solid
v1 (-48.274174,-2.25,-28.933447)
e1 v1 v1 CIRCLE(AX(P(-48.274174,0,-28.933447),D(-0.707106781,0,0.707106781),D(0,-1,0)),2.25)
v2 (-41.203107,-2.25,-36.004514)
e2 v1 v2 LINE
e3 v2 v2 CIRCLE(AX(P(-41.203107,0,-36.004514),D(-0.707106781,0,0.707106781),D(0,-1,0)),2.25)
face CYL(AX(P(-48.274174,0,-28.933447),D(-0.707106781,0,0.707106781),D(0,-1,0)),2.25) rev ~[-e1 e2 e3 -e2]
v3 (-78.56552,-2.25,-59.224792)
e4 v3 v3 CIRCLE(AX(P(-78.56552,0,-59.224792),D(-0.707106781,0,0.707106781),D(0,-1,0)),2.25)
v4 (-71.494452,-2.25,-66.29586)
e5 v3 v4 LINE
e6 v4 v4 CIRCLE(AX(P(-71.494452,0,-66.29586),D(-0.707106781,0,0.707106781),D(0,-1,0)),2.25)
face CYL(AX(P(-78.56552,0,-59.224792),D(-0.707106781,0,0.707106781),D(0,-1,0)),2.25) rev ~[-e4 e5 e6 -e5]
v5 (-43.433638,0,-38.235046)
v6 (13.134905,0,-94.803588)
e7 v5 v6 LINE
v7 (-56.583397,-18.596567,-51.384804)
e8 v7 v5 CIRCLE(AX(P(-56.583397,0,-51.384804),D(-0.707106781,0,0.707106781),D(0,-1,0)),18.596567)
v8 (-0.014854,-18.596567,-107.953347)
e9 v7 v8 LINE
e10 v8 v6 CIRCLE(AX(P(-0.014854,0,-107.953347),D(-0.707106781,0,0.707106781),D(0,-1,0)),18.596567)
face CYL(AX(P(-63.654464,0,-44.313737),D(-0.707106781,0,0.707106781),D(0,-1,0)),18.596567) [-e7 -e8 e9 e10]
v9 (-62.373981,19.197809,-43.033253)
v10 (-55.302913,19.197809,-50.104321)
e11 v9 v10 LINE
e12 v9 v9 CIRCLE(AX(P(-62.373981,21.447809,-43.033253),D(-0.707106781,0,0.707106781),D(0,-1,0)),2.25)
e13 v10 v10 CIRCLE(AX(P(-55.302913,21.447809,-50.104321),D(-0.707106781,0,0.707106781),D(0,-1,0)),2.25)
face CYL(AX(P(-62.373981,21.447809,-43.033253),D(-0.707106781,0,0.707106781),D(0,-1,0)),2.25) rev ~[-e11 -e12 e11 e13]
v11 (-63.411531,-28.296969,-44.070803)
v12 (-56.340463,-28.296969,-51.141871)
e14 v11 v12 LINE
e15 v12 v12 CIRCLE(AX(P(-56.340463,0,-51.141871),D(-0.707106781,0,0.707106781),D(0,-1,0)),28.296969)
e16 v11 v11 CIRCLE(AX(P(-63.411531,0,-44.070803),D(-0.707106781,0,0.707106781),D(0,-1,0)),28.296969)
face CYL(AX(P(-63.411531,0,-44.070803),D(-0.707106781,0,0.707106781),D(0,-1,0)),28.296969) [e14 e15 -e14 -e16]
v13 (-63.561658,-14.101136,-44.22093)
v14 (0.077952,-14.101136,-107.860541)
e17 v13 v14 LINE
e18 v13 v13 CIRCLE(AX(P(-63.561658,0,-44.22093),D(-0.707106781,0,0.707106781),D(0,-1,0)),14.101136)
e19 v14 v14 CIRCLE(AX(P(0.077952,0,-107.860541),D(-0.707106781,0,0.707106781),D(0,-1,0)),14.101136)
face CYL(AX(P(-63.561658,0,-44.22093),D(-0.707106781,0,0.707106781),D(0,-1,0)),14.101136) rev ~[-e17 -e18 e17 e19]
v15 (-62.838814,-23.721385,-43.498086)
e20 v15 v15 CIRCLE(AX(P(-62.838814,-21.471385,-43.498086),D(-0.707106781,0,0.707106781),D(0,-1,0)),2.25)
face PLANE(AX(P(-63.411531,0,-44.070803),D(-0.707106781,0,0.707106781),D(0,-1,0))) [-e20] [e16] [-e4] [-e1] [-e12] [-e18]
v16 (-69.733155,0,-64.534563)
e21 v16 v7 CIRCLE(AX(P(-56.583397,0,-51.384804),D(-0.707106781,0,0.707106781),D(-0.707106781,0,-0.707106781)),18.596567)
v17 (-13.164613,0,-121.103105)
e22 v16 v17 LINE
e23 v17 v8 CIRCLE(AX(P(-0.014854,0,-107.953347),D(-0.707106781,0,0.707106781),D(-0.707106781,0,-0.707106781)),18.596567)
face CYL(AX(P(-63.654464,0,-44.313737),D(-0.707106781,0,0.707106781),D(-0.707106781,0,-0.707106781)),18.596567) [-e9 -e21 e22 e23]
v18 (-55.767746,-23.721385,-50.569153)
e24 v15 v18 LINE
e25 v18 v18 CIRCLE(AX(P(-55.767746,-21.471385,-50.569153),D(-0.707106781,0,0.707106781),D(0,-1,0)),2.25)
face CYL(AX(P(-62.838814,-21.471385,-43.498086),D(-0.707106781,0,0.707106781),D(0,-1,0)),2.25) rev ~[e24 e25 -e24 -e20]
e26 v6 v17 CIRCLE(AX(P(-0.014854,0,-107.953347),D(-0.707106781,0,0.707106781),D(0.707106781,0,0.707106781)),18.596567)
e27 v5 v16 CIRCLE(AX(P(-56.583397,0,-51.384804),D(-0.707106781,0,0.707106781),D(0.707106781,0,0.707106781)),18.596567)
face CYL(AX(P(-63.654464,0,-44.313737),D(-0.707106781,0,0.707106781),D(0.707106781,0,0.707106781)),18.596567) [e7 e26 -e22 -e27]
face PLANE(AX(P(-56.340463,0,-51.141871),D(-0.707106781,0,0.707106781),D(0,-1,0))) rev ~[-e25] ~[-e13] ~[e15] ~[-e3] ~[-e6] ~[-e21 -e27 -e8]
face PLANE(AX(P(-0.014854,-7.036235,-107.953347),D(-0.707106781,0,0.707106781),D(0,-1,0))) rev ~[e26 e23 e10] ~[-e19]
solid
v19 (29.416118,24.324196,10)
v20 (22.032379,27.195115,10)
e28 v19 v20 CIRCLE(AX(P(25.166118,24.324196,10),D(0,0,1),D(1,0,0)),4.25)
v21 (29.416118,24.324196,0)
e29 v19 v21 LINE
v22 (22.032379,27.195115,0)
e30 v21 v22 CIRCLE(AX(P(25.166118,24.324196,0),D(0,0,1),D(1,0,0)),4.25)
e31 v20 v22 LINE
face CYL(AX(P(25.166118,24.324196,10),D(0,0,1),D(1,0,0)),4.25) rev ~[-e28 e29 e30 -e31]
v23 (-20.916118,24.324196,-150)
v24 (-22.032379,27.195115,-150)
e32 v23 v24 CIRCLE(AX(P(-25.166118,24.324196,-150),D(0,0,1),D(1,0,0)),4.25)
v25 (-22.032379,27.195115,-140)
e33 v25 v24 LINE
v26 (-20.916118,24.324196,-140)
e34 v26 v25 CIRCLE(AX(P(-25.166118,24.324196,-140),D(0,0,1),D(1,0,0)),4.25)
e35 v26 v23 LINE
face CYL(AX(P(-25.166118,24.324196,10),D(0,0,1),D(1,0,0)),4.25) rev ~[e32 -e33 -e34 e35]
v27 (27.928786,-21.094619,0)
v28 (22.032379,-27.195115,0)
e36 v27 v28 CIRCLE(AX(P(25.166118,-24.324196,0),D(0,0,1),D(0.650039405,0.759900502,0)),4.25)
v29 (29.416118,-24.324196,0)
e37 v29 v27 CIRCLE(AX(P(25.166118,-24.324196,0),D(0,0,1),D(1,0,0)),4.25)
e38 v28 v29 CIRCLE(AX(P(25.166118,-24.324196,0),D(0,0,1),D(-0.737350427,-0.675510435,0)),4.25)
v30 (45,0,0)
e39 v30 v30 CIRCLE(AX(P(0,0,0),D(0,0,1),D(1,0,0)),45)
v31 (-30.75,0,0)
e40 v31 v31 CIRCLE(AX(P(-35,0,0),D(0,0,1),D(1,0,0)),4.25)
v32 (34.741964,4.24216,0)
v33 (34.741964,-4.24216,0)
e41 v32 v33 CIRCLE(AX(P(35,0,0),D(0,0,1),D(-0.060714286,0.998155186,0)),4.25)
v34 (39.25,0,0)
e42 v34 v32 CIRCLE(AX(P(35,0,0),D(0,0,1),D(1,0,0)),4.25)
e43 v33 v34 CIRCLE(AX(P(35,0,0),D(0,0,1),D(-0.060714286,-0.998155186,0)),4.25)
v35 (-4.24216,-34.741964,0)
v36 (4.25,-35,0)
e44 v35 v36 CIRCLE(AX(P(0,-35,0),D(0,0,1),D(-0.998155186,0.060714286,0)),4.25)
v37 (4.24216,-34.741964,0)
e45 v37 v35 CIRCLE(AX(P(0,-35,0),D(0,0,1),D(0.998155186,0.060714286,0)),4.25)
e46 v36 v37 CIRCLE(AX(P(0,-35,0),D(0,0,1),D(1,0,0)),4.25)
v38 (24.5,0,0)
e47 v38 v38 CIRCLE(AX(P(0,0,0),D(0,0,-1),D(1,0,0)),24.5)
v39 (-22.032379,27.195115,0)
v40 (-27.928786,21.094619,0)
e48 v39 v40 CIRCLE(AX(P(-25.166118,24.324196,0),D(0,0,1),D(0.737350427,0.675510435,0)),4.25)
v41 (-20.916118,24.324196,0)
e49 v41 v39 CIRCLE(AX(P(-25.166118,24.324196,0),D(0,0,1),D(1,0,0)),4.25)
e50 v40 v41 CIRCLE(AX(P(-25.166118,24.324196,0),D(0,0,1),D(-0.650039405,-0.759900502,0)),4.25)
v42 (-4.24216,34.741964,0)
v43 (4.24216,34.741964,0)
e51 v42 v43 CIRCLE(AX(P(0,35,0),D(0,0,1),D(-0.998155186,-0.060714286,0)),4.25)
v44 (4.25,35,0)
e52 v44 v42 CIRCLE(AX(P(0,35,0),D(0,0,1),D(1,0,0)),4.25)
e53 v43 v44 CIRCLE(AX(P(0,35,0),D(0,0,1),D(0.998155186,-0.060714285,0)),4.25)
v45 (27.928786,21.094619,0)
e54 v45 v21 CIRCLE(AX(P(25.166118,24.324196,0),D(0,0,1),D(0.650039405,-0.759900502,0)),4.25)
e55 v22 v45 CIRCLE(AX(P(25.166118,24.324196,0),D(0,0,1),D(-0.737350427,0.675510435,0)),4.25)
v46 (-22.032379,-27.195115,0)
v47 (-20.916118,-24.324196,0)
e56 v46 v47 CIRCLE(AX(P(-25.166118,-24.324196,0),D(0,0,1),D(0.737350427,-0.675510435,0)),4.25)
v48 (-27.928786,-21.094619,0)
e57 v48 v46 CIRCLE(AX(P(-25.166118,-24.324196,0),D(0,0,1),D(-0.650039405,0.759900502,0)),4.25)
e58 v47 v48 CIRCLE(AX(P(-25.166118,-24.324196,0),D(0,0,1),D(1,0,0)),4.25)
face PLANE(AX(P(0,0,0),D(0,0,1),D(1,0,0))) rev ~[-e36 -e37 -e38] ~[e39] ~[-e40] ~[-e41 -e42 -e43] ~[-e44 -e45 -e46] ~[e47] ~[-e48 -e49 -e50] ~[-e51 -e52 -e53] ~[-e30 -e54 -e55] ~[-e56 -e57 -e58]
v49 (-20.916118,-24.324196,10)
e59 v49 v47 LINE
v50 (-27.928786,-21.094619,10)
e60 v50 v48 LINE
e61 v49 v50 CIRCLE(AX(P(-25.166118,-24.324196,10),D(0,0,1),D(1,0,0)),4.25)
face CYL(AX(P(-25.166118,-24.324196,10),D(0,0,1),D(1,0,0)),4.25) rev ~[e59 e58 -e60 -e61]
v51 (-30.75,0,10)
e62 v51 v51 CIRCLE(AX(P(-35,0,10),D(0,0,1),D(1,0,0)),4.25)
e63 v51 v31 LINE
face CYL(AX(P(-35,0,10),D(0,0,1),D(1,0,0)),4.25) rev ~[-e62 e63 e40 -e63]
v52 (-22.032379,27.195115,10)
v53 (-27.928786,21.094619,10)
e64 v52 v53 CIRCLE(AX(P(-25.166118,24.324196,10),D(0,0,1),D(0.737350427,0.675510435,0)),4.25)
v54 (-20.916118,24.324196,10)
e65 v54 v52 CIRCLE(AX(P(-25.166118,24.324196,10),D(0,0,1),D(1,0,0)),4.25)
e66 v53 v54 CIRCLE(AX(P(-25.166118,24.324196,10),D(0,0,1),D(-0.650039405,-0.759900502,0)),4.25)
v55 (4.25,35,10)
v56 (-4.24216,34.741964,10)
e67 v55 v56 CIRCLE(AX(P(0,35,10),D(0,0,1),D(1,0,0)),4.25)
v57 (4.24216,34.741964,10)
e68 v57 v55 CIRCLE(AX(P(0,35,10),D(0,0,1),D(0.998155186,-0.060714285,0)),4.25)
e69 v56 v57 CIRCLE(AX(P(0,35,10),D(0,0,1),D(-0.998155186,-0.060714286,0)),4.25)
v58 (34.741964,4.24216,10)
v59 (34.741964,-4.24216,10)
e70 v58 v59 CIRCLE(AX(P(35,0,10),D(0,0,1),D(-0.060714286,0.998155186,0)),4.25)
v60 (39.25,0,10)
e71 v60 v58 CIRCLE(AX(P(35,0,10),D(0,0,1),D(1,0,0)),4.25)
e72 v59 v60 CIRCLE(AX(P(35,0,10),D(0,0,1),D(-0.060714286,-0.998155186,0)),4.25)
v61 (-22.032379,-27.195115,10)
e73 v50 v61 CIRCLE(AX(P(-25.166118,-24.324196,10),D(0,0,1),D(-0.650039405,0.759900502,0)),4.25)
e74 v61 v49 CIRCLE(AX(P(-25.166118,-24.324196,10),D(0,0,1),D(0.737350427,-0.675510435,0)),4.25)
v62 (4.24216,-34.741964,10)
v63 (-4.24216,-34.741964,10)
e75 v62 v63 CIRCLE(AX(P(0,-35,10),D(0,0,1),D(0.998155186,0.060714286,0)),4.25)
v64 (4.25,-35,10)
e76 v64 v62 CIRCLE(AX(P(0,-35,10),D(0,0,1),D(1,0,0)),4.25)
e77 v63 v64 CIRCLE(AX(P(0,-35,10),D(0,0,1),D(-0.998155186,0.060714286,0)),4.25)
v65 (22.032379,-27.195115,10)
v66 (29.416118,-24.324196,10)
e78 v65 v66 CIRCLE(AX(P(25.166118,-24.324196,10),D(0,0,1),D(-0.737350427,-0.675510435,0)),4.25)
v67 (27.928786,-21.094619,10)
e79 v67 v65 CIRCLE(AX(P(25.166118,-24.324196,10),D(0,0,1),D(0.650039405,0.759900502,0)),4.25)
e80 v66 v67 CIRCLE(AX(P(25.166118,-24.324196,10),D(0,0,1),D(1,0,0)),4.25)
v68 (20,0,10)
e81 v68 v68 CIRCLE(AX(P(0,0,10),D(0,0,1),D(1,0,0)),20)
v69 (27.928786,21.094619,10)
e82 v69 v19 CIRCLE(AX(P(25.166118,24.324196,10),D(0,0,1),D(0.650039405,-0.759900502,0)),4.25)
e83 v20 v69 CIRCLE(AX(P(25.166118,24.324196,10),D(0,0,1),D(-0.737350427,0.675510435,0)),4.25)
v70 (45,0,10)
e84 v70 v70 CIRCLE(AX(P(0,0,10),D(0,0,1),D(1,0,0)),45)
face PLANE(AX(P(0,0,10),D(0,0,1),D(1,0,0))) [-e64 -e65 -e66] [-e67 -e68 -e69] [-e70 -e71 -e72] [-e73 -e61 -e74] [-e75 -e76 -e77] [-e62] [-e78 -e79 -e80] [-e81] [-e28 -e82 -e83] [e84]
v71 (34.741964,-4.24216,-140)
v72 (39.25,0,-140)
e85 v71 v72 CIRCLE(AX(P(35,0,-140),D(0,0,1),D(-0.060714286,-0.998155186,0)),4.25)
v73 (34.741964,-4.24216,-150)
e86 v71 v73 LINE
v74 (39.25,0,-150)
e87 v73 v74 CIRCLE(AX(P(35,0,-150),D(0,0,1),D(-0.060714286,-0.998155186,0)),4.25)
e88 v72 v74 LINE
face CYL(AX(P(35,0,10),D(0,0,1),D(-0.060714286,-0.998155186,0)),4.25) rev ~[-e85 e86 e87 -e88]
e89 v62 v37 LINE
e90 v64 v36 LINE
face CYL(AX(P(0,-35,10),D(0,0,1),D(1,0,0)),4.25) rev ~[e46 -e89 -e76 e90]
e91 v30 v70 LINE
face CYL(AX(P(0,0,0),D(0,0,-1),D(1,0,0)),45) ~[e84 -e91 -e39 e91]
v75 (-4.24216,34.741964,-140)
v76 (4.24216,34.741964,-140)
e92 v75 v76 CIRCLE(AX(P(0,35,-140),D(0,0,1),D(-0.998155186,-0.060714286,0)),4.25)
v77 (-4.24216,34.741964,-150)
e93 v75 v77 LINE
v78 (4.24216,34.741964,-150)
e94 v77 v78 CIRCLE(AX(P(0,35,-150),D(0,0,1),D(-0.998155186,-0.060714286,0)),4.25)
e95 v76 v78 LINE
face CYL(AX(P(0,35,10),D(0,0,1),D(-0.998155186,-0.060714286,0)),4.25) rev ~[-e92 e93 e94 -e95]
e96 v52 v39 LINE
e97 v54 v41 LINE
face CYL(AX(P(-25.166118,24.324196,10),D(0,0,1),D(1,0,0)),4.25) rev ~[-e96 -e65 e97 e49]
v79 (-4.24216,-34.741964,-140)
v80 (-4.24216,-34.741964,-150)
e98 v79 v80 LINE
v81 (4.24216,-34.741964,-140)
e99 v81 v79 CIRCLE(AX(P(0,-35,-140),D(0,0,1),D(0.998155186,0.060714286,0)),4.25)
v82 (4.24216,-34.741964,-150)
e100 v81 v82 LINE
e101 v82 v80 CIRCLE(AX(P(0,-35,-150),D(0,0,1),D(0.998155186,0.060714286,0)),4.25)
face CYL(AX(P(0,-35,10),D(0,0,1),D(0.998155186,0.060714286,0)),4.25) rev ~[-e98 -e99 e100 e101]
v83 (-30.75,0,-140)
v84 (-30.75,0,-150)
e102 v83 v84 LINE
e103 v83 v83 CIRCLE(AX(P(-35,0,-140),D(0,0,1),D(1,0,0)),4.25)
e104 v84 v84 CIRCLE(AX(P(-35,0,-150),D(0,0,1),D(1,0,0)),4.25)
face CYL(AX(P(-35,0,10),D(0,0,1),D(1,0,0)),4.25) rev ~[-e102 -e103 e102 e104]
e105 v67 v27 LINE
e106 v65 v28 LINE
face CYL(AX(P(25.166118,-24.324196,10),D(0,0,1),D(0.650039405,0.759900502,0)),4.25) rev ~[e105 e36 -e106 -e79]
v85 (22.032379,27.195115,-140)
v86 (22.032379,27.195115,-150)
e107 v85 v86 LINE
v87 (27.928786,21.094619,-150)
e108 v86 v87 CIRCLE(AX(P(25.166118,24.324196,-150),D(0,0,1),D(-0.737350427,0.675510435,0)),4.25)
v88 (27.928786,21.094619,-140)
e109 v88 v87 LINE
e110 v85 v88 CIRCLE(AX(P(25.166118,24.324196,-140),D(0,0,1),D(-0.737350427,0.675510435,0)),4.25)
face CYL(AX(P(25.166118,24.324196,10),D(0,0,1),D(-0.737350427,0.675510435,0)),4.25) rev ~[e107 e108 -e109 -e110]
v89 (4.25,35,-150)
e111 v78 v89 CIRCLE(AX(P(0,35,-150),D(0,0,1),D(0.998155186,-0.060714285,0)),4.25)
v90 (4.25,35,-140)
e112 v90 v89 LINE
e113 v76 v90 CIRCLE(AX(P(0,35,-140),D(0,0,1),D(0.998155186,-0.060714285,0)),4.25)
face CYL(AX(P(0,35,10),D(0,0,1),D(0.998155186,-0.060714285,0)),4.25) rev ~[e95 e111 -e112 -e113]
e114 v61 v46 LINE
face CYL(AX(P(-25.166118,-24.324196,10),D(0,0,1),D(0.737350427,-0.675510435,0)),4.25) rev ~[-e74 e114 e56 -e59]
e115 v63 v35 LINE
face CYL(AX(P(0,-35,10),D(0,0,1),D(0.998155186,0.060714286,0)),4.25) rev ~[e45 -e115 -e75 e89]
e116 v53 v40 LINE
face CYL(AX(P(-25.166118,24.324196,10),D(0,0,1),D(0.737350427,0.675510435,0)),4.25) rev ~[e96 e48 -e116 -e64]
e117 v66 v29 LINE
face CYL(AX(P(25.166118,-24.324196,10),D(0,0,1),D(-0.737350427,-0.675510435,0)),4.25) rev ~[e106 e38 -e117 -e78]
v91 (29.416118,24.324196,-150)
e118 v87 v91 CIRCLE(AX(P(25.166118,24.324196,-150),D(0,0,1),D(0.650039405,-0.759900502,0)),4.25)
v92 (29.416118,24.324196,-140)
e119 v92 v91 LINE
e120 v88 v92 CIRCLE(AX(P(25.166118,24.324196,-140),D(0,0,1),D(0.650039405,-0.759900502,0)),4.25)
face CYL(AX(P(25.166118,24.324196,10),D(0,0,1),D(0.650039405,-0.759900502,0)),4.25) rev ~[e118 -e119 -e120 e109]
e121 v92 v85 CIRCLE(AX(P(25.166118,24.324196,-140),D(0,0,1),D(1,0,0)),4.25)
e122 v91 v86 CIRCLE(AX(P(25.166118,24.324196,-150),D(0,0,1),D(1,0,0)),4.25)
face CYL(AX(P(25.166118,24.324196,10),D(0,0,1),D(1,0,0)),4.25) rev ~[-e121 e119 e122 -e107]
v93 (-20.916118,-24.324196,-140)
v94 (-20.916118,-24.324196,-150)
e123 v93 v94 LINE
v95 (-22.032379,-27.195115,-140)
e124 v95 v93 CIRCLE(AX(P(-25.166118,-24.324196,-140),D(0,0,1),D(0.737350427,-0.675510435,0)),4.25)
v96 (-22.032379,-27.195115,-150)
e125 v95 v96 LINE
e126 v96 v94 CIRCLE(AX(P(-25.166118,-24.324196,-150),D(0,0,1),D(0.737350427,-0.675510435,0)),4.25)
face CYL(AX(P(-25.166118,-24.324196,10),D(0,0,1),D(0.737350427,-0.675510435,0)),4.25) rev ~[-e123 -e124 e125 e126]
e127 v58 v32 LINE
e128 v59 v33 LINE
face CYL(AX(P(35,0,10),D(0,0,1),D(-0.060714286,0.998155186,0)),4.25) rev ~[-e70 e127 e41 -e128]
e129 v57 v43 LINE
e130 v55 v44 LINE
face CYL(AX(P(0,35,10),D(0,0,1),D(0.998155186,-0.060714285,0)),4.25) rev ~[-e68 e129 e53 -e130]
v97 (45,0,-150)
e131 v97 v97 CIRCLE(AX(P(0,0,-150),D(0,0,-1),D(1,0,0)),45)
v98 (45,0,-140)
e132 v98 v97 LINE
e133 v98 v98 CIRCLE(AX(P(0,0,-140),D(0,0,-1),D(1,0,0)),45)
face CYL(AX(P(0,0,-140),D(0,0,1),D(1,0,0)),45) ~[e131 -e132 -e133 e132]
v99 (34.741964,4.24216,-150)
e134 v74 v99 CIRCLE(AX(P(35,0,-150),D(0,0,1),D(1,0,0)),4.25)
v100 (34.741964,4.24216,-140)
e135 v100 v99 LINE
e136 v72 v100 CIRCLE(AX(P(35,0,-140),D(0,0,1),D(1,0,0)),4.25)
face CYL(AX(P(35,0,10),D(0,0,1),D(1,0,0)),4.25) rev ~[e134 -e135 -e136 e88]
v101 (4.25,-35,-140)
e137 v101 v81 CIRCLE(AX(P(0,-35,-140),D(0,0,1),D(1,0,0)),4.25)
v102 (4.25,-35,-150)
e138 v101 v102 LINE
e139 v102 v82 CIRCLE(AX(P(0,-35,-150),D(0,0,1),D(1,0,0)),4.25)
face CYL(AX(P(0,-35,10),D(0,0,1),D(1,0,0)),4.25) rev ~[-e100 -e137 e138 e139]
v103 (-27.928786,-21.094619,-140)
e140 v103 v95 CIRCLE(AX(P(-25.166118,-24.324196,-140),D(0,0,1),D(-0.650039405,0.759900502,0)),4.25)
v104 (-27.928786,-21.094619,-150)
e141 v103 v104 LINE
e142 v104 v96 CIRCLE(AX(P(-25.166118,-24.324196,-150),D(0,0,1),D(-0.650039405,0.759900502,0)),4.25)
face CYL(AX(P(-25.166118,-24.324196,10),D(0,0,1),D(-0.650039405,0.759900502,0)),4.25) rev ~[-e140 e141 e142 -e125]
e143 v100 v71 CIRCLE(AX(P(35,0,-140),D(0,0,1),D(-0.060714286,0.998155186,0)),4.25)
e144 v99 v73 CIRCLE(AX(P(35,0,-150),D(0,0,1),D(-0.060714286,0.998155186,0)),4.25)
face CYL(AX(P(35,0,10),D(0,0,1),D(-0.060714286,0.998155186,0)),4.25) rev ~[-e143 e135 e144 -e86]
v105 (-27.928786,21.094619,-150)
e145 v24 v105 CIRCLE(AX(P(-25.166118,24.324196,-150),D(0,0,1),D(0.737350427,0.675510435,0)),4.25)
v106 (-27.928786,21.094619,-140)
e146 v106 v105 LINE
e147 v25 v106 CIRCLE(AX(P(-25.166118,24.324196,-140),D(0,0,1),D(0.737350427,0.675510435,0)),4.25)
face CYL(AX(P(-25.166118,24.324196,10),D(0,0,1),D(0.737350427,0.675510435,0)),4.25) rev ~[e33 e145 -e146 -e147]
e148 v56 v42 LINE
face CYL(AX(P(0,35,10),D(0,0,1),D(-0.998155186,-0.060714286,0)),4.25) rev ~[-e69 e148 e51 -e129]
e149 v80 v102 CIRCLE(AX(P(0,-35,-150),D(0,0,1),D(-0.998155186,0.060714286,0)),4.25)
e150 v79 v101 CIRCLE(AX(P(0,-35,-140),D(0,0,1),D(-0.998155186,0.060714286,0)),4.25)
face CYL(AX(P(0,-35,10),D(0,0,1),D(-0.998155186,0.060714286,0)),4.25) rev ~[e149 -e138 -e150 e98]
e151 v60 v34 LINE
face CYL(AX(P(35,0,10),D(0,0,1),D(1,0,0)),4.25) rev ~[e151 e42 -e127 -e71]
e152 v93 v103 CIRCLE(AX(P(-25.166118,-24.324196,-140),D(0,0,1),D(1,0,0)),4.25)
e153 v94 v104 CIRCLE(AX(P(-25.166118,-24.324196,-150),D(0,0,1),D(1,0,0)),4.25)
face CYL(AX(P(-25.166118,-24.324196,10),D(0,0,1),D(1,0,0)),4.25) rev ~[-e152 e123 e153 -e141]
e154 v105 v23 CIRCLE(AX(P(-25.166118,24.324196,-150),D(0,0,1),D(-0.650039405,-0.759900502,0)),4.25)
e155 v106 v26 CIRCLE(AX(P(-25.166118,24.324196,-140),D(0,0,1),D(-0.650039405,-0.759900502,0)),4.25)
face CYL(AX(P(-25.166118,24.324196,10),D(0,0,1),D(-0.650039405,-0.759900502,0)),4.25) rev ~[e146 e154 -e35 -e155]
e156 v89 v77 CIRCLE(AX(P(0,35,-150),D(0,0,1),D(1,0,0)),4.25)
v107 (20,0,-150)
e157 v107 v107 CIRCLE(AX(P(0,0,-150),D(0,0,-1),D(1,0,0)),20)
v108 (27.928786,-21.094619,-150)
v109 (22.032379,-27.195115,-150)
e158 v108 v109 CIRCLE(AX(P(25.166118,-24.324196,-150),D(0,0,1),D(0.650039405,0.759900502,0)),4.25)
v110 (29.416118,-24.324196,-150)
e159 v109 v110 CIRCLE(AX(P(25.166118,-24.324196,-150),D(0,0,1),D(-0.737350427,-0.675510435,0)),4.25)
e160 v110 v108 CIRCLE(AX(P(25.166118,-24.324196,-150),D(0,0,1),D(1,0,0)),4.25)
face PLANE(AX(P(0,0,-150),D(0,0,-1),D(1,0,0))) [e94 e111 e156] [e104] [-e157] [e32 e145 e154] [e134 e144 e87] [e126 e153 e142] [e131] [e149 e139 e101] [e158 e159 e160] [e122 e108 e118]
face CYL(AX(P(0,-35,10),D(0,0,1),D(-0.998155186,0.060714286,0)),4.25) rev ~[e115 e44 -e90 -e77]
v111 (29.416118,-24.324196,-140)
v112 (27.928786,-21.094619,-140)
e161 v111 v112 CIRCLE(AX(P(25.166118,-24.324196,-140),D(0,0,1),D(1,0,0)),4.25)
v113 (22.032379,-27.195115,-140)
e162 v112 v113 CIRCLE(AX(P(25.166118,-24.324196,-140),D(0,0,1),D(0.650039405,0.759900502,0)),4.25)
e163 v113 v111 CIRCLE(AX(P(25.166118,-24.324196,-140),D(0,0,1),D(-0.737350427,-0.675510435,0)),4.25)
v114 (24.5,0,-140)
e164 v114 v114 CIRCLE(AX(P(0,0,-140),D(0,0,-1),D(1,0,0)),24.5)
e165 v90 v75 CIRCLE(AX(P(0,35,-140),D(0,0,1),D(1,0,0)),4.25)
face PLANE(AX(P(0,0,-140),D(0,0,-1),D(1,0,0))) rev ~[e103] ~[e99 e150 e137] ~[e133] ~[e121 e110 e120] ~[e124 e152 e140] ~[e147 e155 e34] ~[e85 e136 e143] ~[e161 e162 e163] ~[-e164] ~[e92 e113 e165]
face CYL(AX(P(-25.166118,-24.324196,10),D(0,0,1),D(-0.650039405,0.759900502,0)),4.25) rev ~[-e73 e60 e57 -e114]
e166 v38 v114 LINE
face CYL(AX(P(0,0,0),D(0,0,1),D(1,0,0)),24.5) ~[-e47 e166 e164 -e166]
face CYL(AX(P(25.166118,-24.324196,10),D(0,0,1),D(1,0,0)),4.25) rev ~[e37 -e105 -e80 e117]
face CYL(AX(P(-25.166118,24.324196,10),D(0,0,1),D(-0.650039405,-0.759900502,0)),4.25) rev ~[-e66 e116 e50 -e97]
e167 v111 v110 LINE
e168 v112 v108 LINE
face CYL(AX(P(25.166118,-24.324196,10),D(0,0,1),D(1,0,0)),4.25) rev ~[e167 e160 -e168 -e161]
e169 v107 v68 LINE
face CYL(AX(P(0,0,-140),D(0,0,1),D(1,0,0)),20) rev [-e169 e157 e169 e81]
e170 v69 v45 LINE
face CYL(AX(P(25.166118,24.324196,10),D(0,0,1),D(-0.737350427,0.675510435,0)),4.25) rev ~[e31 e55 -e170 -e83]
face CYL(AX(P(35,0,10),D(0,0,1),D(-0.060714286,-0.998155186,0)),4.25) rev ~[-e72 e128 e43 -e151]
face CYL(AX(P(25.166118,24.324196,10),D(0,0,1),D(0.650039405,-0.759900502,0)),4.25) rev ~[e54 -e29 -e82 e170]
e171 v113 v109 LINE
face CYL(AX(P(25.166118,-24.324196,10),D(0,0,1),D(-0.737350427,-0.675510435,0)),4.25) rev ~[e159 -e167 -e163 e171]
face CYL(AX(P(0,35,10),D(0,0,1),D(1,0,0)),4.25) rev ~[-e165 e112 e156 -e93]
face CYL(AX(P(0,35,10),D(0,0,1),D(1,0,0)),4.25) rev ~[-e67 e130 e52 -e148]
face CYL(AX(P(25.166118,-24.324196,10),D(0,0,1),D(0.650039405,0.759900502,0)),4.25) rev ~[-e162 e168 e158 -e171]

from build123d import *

# Parameters (mm, degrees)
F0_R      = 45
F1_DEPTH  = 10
F2_R      = 24.5
F2_R_2    = 20
F3_DEPTH  = 140
F4_R      = 20
F5_DEPTH  = 150.001
F6_R      = 45
F6_R_2    = 20
F7_DEPTH  = 10
F8_R      = 45
F8_R_2    = 20
F9_DEPTH  = 10
F10_R     = 20
F11_DEPTH = 160.001
F15_DEPTH = 90
F16_R     = 28.2969693824
F17_DEPTH = 10
F18_R     = 14.1011360699
F19_DEPTH = 90
F20_R     = 2.25
F21_DEPTH = 25


with BuildPart() as f1:
    # F0 (on Top) → F1 (new body)
    with BuildSketch(Plane.XY):
        Circle(F0_R)
    extrude(amount=F1_DEPTH)

    # F2 (on face) → F3 (join)
    with BuildSketch(Plane(origin=(0, 0, 0), x_dir=(1, 0, 0), z_dir=(0, 0, -1))):
        Circle(F2_R)
        Circle(F2_R_2, mode=Mode.SUBTRACT)
    extrude(amount=F3_DEPTH)

    # F4 (on face) → F5 (cut, through all)
    with BuildSketch(Plane.XY.offset(10)):
        Circle(F4_R)
    extrude(amount=-F5_DEPTH, mode=Mode.SUBTRACT)

    # F6 (on Top) → F7 (join)
    with BuildSketch(Plane.XY):
        Circle(F6_R)
        Circle(F6_R_2, mode=Mode.SUBTRACT)
    extrude(amount=F7_DEPTH)

    # F8 (on face) → F9 (join)
    with BuildSketch(Plane(origin=(0, 0, -140), x_dir=(1, 0, 0), z_dir=(0, 0, -1))):
        Circle(F8_R)
        Circle(F8_R_2, mode=Mode.SUBTRACT)
    extrude(amount=F9_DEPTH)

    # F10 (on face) → F11 (cut, through all)
    with BuildSketch(Plane.XY.offset(10)):
        Circle(F10_R)
        with BuildLine():
            ThreePointArc((22.0323788799, 27.1951150189), (22.110232414, 21.3705433389), (27.9287856649, 21.0946185385))
            ThreePointArc((27.9287856649, 21.0946185385), (25.1661181948, 24.3241956703), (22.0323788799, 27.1951150189))
        make_face()
        with BuildLine():
            ThreePointArc((22.0323788799, 27.1951150189), (25.1661181948, 24.3241956703), (27.9287856649, 21.0946185385))
            ThreePointArc((27.9287856649, 21.0946185385), (29.0264184906, 22.5463931992), (29.4161181948, 24.3241956703))
            ThreePointArc((29.4161181948, 24.3241956703), (26.706265576, 28.2853124376), (22.0323788799, 27.1951150189))
        make_face()
        with BuildLine():
            ThreePointArc((-4.2421595409, 34.7419642857), (0, 30.75), (4.2421595409, 34.7419642857))
            ThreePointArc((4.2421595409, 34.7419642857), (0, 35), (-4.2421595409, 34.7419642857))
        make_face()
        with BuildLine():
            ThreePointArc((-4.2421595409, 34.7419642857), (0, 35), (4.2421595409, 34.7419642857))
            ThreePointArc((4.2421595409, 34.7419642857), (4.248039433, 34.8709225982), (4.25, 35))
            ThreePointArc((4.25, 35), (-0.1290774018, 39.248039433), (-4.2421595409, 34.7419642857))
        make_face()
        with BuildLine():
            ThreePointArc((-27.9287856649, 21.0946185385), (-25.1661181948, 24.3241956703), (-22.0323788799, 27.1951150189))
            ThreePointArc((-22.0323788799, 27.1951150189), (-28.2220039756, 27.2778480017), (-27.9287856649, 21.0946185385))
        make_face()
        with BuildLine():
            ThreePointArc((-20.9161181948, 24.3241956703), (-21.2050014275, 25.8643430515), (-22.0323788799, 27.1951150189))
            ThreePointArc((-22.0323788799, 27.1951150189), (-25.1661181948, 24.3241956703), (-27.9287856649, 21.0946185385))
            ThreePointArc((-27.9287856649, 21.0946185385), (-23.3883157237, 20.4638953745), (-20.9161181948, 24.3241956703))
        make_face()
        with BuildLine():
            ThreePointArc((-34.7419642857, -4.2421595409), (-35, 0), (-34.7419642857, 4.2421595409))
            ThreePointArc((-34.7419642857, 4.2421595409), (-39.25, 0), (-34.7419642857, -4.2421595409))
        make_face()
        with BuildLine():
            ThreePointArc((-30.75, 0), (-31.904911004, 2.9125459837), (-34.7419642857, 4.2421595409))
            ThreePointArc((-34.7419642857, 4.2421595409), (-35, 0), (-34.7419642857, -4.2421595409))
            ThreePointArc((-34.7419642857, -4.2421595409), (-31.904911004, -2.9125459837), (-30.75, 0))
        make_face()
        with BuildLine():
            ThreePointArc((-27.9287856649, -21.0946185385), (-28.2220039756, -27.2778480017), (-22.0323788799, -27.1951150189))
            ThreePointArc((-22.0323788799, -27.1951150189), (-25.1661181948, -24.3241956703), (-27.9287856649, -21.0946185385))
        make_face()
        with BuildLine():
            ThreePointArc((-27.9287856649, -21.0946185385), (-25.1661181948, -24.3241956703), (-22.0323788799, -27.1951150189))
            ThreePointArc((-22.0323788799, -27.1951150189), (-21.2050014275, -25.8643430515), (-20.9161181948, -24.3241956703))
            ThreePointArc((-20.9161181948, -24.3241956703), (-23.3883157237, -20.4638953745), (-27.9287856649, -21.0946185385))
        make_face()
        with BuildLine():
            ThreePointArc((-4.2421595409, -34.7419642857), (0, -35), (4.2421595409, -34.7419642857))
            ThreePointArc((4.2421595409, -34.7419642857), (0, -30.75), (-4.2421595409, -34.7419642857))
        make_face()
        with BuildLine():
            ThreePointArc((4.25, -35), (4.248039433, -34.8709225982), (4.2421595409, -34.7419642857))
            ThreePointArc((4.2421595409, -34.7419642857), (0, -35), (-4.2421595409, -34.7419642857))
            ThreePointArc((-4.2421595409, -34.7419642857), (-0.1290774018, -39.248039433), (4.25, -35))
        make_face()
        with BuildLine():
            ThreePointArc((22.0323788799, -27.1951150189), (25.1661181948, -24.3241956703), (27.9287856649, -21.0946185385))
            ThreePointArc((27.9287856649, -21.0946185385), (22.110232414, -21.3705433389), (22.0323788799, -27.1951150189))
        make_face()
        with BuildLine():
            ThreePointArc((29.4161181948, -24.3241956703), (29.0264184906, -22.5463931992), (27.9287856649, -21.0946185385))
            ThreePointArc((27.9287856649, -21.0946185385), (25.1661181948, -24.3241956703), (22.0323788799, -27.1951150189))
            ThreePointArc((22.0323788799, -27.1951150189), (26.706265576, -28.2853124376), (29.4161181948, -24.3241956703))
        make_face()
        with BuildLine():
            ThreePointArc((34.7419642857, -4.2421595409), (34.935431513, -2.125), (35, 0))
            ThreePointArc((35, 0), (34.935431513, 2.125), (34.7419642857, 4.2421595409))
            ThreePointArc((34.7419642857, 4.2421595409), (30.75, 0), (34.7419642857, -4.2421595409))
        make_face()
        with BuildLine():
            ThreePointArc((34.7419642857, 4.2421595409), (34.935431513, 2.125), (35, 0))
            ThreePointArc((35, 0), (34.935431513, -2.125), (34.7419642857, -4.2421595409))
            ThreePointArc((34.7419642857, -4.2421595409), (37.9125459837, -3.095088996), (39.25, 0))
            ThreePointArc((39.25, 0), (37.9125459837, 3.095088996), (34.7419642857, 4.2421595409))
        make_face()
    extrude(amount=-F11_DEPTH, mode=Mode.SUBTRACT)


with BuildPart() as f15:
    # F14 (on face) → F15 (new body)
    with BuildSketch(Plane(origin=(-9.6703639142, 0, 9.6703639142), x_dir=(0, -1, 0), z_dir=(-0.7071067812, 0, 0.7071067812))):
        with BuildLine():
            ThreePointArc((18.5965670214, -76.3450469822), (13.1497586476, -63.1952883345), (0, -57.7484799607))
            Line((0, -57.7484799607), (0, -94.9416140036))
            ThreePointArc((0, -94.9416140036), (13.1497586476, -89.4948056298), (18.5965670214, -76.3450469822))
        make_face()
        with BuildLine():
            Line((0, -94.9416140036), (0, -57.7484799607))
            ThreePointArc((0, -57.7484799607), (-18.5965670214, -76.3450469822), (0, -94.9416140036))
        make_face()
    extrude(amount=-F15_DEPTH)

    # F16 (on face) → F17 (join)
    with BuildSketch(Plane(origin=(-9.6703639142, 0, 9.6703639142), x_dir=(0, -1, 0), z_dir=(-0.7071067812, 0, 0.7071067812))):
        with Locations((0, -76.0014876723)):
            Circle(F16_R)
    extrude(amount=-F17_DEPTH)

    # F18 (on face) → F19 (cut)
    with BuildSketch(Plane(origin=(-9.6703639142, 0, 9.6703639142), x_dir=(0, -1, 0), z_dir=(-0.7071067812, 0, 0.7071067812))):
        with Locations((0, -76.213799417)):
            Circle(F18_R)
    extrude(amount=-F19_DEPTH, mode=Mode.SUBTRACT)

    # F20 (on face) → F21 (cut)
    with BuildSketch(Plane(origin=(-9.6703639142, 0, 9.6703639142), x_dir=(0, -1, 0), z_dir=(-0.7071067812, 0, 0.7071067812))):
        with Locations((21.4713849127, -75.1915425062)):
            Circle(F20_R)
        with Locations((0, -54.5940324664)):
            Circle(F20_R)
        with Locations((0, -97.4324643612)):
            Circle(F20_R)
        with Locations((-21.4478094131, -74.5341703296)):
            Circle(F20_R)
    extrude(amount=-F21_DEPTH, mode=Mode.SUBTRACT)


solid = Compound([f1.part, f15.part])
